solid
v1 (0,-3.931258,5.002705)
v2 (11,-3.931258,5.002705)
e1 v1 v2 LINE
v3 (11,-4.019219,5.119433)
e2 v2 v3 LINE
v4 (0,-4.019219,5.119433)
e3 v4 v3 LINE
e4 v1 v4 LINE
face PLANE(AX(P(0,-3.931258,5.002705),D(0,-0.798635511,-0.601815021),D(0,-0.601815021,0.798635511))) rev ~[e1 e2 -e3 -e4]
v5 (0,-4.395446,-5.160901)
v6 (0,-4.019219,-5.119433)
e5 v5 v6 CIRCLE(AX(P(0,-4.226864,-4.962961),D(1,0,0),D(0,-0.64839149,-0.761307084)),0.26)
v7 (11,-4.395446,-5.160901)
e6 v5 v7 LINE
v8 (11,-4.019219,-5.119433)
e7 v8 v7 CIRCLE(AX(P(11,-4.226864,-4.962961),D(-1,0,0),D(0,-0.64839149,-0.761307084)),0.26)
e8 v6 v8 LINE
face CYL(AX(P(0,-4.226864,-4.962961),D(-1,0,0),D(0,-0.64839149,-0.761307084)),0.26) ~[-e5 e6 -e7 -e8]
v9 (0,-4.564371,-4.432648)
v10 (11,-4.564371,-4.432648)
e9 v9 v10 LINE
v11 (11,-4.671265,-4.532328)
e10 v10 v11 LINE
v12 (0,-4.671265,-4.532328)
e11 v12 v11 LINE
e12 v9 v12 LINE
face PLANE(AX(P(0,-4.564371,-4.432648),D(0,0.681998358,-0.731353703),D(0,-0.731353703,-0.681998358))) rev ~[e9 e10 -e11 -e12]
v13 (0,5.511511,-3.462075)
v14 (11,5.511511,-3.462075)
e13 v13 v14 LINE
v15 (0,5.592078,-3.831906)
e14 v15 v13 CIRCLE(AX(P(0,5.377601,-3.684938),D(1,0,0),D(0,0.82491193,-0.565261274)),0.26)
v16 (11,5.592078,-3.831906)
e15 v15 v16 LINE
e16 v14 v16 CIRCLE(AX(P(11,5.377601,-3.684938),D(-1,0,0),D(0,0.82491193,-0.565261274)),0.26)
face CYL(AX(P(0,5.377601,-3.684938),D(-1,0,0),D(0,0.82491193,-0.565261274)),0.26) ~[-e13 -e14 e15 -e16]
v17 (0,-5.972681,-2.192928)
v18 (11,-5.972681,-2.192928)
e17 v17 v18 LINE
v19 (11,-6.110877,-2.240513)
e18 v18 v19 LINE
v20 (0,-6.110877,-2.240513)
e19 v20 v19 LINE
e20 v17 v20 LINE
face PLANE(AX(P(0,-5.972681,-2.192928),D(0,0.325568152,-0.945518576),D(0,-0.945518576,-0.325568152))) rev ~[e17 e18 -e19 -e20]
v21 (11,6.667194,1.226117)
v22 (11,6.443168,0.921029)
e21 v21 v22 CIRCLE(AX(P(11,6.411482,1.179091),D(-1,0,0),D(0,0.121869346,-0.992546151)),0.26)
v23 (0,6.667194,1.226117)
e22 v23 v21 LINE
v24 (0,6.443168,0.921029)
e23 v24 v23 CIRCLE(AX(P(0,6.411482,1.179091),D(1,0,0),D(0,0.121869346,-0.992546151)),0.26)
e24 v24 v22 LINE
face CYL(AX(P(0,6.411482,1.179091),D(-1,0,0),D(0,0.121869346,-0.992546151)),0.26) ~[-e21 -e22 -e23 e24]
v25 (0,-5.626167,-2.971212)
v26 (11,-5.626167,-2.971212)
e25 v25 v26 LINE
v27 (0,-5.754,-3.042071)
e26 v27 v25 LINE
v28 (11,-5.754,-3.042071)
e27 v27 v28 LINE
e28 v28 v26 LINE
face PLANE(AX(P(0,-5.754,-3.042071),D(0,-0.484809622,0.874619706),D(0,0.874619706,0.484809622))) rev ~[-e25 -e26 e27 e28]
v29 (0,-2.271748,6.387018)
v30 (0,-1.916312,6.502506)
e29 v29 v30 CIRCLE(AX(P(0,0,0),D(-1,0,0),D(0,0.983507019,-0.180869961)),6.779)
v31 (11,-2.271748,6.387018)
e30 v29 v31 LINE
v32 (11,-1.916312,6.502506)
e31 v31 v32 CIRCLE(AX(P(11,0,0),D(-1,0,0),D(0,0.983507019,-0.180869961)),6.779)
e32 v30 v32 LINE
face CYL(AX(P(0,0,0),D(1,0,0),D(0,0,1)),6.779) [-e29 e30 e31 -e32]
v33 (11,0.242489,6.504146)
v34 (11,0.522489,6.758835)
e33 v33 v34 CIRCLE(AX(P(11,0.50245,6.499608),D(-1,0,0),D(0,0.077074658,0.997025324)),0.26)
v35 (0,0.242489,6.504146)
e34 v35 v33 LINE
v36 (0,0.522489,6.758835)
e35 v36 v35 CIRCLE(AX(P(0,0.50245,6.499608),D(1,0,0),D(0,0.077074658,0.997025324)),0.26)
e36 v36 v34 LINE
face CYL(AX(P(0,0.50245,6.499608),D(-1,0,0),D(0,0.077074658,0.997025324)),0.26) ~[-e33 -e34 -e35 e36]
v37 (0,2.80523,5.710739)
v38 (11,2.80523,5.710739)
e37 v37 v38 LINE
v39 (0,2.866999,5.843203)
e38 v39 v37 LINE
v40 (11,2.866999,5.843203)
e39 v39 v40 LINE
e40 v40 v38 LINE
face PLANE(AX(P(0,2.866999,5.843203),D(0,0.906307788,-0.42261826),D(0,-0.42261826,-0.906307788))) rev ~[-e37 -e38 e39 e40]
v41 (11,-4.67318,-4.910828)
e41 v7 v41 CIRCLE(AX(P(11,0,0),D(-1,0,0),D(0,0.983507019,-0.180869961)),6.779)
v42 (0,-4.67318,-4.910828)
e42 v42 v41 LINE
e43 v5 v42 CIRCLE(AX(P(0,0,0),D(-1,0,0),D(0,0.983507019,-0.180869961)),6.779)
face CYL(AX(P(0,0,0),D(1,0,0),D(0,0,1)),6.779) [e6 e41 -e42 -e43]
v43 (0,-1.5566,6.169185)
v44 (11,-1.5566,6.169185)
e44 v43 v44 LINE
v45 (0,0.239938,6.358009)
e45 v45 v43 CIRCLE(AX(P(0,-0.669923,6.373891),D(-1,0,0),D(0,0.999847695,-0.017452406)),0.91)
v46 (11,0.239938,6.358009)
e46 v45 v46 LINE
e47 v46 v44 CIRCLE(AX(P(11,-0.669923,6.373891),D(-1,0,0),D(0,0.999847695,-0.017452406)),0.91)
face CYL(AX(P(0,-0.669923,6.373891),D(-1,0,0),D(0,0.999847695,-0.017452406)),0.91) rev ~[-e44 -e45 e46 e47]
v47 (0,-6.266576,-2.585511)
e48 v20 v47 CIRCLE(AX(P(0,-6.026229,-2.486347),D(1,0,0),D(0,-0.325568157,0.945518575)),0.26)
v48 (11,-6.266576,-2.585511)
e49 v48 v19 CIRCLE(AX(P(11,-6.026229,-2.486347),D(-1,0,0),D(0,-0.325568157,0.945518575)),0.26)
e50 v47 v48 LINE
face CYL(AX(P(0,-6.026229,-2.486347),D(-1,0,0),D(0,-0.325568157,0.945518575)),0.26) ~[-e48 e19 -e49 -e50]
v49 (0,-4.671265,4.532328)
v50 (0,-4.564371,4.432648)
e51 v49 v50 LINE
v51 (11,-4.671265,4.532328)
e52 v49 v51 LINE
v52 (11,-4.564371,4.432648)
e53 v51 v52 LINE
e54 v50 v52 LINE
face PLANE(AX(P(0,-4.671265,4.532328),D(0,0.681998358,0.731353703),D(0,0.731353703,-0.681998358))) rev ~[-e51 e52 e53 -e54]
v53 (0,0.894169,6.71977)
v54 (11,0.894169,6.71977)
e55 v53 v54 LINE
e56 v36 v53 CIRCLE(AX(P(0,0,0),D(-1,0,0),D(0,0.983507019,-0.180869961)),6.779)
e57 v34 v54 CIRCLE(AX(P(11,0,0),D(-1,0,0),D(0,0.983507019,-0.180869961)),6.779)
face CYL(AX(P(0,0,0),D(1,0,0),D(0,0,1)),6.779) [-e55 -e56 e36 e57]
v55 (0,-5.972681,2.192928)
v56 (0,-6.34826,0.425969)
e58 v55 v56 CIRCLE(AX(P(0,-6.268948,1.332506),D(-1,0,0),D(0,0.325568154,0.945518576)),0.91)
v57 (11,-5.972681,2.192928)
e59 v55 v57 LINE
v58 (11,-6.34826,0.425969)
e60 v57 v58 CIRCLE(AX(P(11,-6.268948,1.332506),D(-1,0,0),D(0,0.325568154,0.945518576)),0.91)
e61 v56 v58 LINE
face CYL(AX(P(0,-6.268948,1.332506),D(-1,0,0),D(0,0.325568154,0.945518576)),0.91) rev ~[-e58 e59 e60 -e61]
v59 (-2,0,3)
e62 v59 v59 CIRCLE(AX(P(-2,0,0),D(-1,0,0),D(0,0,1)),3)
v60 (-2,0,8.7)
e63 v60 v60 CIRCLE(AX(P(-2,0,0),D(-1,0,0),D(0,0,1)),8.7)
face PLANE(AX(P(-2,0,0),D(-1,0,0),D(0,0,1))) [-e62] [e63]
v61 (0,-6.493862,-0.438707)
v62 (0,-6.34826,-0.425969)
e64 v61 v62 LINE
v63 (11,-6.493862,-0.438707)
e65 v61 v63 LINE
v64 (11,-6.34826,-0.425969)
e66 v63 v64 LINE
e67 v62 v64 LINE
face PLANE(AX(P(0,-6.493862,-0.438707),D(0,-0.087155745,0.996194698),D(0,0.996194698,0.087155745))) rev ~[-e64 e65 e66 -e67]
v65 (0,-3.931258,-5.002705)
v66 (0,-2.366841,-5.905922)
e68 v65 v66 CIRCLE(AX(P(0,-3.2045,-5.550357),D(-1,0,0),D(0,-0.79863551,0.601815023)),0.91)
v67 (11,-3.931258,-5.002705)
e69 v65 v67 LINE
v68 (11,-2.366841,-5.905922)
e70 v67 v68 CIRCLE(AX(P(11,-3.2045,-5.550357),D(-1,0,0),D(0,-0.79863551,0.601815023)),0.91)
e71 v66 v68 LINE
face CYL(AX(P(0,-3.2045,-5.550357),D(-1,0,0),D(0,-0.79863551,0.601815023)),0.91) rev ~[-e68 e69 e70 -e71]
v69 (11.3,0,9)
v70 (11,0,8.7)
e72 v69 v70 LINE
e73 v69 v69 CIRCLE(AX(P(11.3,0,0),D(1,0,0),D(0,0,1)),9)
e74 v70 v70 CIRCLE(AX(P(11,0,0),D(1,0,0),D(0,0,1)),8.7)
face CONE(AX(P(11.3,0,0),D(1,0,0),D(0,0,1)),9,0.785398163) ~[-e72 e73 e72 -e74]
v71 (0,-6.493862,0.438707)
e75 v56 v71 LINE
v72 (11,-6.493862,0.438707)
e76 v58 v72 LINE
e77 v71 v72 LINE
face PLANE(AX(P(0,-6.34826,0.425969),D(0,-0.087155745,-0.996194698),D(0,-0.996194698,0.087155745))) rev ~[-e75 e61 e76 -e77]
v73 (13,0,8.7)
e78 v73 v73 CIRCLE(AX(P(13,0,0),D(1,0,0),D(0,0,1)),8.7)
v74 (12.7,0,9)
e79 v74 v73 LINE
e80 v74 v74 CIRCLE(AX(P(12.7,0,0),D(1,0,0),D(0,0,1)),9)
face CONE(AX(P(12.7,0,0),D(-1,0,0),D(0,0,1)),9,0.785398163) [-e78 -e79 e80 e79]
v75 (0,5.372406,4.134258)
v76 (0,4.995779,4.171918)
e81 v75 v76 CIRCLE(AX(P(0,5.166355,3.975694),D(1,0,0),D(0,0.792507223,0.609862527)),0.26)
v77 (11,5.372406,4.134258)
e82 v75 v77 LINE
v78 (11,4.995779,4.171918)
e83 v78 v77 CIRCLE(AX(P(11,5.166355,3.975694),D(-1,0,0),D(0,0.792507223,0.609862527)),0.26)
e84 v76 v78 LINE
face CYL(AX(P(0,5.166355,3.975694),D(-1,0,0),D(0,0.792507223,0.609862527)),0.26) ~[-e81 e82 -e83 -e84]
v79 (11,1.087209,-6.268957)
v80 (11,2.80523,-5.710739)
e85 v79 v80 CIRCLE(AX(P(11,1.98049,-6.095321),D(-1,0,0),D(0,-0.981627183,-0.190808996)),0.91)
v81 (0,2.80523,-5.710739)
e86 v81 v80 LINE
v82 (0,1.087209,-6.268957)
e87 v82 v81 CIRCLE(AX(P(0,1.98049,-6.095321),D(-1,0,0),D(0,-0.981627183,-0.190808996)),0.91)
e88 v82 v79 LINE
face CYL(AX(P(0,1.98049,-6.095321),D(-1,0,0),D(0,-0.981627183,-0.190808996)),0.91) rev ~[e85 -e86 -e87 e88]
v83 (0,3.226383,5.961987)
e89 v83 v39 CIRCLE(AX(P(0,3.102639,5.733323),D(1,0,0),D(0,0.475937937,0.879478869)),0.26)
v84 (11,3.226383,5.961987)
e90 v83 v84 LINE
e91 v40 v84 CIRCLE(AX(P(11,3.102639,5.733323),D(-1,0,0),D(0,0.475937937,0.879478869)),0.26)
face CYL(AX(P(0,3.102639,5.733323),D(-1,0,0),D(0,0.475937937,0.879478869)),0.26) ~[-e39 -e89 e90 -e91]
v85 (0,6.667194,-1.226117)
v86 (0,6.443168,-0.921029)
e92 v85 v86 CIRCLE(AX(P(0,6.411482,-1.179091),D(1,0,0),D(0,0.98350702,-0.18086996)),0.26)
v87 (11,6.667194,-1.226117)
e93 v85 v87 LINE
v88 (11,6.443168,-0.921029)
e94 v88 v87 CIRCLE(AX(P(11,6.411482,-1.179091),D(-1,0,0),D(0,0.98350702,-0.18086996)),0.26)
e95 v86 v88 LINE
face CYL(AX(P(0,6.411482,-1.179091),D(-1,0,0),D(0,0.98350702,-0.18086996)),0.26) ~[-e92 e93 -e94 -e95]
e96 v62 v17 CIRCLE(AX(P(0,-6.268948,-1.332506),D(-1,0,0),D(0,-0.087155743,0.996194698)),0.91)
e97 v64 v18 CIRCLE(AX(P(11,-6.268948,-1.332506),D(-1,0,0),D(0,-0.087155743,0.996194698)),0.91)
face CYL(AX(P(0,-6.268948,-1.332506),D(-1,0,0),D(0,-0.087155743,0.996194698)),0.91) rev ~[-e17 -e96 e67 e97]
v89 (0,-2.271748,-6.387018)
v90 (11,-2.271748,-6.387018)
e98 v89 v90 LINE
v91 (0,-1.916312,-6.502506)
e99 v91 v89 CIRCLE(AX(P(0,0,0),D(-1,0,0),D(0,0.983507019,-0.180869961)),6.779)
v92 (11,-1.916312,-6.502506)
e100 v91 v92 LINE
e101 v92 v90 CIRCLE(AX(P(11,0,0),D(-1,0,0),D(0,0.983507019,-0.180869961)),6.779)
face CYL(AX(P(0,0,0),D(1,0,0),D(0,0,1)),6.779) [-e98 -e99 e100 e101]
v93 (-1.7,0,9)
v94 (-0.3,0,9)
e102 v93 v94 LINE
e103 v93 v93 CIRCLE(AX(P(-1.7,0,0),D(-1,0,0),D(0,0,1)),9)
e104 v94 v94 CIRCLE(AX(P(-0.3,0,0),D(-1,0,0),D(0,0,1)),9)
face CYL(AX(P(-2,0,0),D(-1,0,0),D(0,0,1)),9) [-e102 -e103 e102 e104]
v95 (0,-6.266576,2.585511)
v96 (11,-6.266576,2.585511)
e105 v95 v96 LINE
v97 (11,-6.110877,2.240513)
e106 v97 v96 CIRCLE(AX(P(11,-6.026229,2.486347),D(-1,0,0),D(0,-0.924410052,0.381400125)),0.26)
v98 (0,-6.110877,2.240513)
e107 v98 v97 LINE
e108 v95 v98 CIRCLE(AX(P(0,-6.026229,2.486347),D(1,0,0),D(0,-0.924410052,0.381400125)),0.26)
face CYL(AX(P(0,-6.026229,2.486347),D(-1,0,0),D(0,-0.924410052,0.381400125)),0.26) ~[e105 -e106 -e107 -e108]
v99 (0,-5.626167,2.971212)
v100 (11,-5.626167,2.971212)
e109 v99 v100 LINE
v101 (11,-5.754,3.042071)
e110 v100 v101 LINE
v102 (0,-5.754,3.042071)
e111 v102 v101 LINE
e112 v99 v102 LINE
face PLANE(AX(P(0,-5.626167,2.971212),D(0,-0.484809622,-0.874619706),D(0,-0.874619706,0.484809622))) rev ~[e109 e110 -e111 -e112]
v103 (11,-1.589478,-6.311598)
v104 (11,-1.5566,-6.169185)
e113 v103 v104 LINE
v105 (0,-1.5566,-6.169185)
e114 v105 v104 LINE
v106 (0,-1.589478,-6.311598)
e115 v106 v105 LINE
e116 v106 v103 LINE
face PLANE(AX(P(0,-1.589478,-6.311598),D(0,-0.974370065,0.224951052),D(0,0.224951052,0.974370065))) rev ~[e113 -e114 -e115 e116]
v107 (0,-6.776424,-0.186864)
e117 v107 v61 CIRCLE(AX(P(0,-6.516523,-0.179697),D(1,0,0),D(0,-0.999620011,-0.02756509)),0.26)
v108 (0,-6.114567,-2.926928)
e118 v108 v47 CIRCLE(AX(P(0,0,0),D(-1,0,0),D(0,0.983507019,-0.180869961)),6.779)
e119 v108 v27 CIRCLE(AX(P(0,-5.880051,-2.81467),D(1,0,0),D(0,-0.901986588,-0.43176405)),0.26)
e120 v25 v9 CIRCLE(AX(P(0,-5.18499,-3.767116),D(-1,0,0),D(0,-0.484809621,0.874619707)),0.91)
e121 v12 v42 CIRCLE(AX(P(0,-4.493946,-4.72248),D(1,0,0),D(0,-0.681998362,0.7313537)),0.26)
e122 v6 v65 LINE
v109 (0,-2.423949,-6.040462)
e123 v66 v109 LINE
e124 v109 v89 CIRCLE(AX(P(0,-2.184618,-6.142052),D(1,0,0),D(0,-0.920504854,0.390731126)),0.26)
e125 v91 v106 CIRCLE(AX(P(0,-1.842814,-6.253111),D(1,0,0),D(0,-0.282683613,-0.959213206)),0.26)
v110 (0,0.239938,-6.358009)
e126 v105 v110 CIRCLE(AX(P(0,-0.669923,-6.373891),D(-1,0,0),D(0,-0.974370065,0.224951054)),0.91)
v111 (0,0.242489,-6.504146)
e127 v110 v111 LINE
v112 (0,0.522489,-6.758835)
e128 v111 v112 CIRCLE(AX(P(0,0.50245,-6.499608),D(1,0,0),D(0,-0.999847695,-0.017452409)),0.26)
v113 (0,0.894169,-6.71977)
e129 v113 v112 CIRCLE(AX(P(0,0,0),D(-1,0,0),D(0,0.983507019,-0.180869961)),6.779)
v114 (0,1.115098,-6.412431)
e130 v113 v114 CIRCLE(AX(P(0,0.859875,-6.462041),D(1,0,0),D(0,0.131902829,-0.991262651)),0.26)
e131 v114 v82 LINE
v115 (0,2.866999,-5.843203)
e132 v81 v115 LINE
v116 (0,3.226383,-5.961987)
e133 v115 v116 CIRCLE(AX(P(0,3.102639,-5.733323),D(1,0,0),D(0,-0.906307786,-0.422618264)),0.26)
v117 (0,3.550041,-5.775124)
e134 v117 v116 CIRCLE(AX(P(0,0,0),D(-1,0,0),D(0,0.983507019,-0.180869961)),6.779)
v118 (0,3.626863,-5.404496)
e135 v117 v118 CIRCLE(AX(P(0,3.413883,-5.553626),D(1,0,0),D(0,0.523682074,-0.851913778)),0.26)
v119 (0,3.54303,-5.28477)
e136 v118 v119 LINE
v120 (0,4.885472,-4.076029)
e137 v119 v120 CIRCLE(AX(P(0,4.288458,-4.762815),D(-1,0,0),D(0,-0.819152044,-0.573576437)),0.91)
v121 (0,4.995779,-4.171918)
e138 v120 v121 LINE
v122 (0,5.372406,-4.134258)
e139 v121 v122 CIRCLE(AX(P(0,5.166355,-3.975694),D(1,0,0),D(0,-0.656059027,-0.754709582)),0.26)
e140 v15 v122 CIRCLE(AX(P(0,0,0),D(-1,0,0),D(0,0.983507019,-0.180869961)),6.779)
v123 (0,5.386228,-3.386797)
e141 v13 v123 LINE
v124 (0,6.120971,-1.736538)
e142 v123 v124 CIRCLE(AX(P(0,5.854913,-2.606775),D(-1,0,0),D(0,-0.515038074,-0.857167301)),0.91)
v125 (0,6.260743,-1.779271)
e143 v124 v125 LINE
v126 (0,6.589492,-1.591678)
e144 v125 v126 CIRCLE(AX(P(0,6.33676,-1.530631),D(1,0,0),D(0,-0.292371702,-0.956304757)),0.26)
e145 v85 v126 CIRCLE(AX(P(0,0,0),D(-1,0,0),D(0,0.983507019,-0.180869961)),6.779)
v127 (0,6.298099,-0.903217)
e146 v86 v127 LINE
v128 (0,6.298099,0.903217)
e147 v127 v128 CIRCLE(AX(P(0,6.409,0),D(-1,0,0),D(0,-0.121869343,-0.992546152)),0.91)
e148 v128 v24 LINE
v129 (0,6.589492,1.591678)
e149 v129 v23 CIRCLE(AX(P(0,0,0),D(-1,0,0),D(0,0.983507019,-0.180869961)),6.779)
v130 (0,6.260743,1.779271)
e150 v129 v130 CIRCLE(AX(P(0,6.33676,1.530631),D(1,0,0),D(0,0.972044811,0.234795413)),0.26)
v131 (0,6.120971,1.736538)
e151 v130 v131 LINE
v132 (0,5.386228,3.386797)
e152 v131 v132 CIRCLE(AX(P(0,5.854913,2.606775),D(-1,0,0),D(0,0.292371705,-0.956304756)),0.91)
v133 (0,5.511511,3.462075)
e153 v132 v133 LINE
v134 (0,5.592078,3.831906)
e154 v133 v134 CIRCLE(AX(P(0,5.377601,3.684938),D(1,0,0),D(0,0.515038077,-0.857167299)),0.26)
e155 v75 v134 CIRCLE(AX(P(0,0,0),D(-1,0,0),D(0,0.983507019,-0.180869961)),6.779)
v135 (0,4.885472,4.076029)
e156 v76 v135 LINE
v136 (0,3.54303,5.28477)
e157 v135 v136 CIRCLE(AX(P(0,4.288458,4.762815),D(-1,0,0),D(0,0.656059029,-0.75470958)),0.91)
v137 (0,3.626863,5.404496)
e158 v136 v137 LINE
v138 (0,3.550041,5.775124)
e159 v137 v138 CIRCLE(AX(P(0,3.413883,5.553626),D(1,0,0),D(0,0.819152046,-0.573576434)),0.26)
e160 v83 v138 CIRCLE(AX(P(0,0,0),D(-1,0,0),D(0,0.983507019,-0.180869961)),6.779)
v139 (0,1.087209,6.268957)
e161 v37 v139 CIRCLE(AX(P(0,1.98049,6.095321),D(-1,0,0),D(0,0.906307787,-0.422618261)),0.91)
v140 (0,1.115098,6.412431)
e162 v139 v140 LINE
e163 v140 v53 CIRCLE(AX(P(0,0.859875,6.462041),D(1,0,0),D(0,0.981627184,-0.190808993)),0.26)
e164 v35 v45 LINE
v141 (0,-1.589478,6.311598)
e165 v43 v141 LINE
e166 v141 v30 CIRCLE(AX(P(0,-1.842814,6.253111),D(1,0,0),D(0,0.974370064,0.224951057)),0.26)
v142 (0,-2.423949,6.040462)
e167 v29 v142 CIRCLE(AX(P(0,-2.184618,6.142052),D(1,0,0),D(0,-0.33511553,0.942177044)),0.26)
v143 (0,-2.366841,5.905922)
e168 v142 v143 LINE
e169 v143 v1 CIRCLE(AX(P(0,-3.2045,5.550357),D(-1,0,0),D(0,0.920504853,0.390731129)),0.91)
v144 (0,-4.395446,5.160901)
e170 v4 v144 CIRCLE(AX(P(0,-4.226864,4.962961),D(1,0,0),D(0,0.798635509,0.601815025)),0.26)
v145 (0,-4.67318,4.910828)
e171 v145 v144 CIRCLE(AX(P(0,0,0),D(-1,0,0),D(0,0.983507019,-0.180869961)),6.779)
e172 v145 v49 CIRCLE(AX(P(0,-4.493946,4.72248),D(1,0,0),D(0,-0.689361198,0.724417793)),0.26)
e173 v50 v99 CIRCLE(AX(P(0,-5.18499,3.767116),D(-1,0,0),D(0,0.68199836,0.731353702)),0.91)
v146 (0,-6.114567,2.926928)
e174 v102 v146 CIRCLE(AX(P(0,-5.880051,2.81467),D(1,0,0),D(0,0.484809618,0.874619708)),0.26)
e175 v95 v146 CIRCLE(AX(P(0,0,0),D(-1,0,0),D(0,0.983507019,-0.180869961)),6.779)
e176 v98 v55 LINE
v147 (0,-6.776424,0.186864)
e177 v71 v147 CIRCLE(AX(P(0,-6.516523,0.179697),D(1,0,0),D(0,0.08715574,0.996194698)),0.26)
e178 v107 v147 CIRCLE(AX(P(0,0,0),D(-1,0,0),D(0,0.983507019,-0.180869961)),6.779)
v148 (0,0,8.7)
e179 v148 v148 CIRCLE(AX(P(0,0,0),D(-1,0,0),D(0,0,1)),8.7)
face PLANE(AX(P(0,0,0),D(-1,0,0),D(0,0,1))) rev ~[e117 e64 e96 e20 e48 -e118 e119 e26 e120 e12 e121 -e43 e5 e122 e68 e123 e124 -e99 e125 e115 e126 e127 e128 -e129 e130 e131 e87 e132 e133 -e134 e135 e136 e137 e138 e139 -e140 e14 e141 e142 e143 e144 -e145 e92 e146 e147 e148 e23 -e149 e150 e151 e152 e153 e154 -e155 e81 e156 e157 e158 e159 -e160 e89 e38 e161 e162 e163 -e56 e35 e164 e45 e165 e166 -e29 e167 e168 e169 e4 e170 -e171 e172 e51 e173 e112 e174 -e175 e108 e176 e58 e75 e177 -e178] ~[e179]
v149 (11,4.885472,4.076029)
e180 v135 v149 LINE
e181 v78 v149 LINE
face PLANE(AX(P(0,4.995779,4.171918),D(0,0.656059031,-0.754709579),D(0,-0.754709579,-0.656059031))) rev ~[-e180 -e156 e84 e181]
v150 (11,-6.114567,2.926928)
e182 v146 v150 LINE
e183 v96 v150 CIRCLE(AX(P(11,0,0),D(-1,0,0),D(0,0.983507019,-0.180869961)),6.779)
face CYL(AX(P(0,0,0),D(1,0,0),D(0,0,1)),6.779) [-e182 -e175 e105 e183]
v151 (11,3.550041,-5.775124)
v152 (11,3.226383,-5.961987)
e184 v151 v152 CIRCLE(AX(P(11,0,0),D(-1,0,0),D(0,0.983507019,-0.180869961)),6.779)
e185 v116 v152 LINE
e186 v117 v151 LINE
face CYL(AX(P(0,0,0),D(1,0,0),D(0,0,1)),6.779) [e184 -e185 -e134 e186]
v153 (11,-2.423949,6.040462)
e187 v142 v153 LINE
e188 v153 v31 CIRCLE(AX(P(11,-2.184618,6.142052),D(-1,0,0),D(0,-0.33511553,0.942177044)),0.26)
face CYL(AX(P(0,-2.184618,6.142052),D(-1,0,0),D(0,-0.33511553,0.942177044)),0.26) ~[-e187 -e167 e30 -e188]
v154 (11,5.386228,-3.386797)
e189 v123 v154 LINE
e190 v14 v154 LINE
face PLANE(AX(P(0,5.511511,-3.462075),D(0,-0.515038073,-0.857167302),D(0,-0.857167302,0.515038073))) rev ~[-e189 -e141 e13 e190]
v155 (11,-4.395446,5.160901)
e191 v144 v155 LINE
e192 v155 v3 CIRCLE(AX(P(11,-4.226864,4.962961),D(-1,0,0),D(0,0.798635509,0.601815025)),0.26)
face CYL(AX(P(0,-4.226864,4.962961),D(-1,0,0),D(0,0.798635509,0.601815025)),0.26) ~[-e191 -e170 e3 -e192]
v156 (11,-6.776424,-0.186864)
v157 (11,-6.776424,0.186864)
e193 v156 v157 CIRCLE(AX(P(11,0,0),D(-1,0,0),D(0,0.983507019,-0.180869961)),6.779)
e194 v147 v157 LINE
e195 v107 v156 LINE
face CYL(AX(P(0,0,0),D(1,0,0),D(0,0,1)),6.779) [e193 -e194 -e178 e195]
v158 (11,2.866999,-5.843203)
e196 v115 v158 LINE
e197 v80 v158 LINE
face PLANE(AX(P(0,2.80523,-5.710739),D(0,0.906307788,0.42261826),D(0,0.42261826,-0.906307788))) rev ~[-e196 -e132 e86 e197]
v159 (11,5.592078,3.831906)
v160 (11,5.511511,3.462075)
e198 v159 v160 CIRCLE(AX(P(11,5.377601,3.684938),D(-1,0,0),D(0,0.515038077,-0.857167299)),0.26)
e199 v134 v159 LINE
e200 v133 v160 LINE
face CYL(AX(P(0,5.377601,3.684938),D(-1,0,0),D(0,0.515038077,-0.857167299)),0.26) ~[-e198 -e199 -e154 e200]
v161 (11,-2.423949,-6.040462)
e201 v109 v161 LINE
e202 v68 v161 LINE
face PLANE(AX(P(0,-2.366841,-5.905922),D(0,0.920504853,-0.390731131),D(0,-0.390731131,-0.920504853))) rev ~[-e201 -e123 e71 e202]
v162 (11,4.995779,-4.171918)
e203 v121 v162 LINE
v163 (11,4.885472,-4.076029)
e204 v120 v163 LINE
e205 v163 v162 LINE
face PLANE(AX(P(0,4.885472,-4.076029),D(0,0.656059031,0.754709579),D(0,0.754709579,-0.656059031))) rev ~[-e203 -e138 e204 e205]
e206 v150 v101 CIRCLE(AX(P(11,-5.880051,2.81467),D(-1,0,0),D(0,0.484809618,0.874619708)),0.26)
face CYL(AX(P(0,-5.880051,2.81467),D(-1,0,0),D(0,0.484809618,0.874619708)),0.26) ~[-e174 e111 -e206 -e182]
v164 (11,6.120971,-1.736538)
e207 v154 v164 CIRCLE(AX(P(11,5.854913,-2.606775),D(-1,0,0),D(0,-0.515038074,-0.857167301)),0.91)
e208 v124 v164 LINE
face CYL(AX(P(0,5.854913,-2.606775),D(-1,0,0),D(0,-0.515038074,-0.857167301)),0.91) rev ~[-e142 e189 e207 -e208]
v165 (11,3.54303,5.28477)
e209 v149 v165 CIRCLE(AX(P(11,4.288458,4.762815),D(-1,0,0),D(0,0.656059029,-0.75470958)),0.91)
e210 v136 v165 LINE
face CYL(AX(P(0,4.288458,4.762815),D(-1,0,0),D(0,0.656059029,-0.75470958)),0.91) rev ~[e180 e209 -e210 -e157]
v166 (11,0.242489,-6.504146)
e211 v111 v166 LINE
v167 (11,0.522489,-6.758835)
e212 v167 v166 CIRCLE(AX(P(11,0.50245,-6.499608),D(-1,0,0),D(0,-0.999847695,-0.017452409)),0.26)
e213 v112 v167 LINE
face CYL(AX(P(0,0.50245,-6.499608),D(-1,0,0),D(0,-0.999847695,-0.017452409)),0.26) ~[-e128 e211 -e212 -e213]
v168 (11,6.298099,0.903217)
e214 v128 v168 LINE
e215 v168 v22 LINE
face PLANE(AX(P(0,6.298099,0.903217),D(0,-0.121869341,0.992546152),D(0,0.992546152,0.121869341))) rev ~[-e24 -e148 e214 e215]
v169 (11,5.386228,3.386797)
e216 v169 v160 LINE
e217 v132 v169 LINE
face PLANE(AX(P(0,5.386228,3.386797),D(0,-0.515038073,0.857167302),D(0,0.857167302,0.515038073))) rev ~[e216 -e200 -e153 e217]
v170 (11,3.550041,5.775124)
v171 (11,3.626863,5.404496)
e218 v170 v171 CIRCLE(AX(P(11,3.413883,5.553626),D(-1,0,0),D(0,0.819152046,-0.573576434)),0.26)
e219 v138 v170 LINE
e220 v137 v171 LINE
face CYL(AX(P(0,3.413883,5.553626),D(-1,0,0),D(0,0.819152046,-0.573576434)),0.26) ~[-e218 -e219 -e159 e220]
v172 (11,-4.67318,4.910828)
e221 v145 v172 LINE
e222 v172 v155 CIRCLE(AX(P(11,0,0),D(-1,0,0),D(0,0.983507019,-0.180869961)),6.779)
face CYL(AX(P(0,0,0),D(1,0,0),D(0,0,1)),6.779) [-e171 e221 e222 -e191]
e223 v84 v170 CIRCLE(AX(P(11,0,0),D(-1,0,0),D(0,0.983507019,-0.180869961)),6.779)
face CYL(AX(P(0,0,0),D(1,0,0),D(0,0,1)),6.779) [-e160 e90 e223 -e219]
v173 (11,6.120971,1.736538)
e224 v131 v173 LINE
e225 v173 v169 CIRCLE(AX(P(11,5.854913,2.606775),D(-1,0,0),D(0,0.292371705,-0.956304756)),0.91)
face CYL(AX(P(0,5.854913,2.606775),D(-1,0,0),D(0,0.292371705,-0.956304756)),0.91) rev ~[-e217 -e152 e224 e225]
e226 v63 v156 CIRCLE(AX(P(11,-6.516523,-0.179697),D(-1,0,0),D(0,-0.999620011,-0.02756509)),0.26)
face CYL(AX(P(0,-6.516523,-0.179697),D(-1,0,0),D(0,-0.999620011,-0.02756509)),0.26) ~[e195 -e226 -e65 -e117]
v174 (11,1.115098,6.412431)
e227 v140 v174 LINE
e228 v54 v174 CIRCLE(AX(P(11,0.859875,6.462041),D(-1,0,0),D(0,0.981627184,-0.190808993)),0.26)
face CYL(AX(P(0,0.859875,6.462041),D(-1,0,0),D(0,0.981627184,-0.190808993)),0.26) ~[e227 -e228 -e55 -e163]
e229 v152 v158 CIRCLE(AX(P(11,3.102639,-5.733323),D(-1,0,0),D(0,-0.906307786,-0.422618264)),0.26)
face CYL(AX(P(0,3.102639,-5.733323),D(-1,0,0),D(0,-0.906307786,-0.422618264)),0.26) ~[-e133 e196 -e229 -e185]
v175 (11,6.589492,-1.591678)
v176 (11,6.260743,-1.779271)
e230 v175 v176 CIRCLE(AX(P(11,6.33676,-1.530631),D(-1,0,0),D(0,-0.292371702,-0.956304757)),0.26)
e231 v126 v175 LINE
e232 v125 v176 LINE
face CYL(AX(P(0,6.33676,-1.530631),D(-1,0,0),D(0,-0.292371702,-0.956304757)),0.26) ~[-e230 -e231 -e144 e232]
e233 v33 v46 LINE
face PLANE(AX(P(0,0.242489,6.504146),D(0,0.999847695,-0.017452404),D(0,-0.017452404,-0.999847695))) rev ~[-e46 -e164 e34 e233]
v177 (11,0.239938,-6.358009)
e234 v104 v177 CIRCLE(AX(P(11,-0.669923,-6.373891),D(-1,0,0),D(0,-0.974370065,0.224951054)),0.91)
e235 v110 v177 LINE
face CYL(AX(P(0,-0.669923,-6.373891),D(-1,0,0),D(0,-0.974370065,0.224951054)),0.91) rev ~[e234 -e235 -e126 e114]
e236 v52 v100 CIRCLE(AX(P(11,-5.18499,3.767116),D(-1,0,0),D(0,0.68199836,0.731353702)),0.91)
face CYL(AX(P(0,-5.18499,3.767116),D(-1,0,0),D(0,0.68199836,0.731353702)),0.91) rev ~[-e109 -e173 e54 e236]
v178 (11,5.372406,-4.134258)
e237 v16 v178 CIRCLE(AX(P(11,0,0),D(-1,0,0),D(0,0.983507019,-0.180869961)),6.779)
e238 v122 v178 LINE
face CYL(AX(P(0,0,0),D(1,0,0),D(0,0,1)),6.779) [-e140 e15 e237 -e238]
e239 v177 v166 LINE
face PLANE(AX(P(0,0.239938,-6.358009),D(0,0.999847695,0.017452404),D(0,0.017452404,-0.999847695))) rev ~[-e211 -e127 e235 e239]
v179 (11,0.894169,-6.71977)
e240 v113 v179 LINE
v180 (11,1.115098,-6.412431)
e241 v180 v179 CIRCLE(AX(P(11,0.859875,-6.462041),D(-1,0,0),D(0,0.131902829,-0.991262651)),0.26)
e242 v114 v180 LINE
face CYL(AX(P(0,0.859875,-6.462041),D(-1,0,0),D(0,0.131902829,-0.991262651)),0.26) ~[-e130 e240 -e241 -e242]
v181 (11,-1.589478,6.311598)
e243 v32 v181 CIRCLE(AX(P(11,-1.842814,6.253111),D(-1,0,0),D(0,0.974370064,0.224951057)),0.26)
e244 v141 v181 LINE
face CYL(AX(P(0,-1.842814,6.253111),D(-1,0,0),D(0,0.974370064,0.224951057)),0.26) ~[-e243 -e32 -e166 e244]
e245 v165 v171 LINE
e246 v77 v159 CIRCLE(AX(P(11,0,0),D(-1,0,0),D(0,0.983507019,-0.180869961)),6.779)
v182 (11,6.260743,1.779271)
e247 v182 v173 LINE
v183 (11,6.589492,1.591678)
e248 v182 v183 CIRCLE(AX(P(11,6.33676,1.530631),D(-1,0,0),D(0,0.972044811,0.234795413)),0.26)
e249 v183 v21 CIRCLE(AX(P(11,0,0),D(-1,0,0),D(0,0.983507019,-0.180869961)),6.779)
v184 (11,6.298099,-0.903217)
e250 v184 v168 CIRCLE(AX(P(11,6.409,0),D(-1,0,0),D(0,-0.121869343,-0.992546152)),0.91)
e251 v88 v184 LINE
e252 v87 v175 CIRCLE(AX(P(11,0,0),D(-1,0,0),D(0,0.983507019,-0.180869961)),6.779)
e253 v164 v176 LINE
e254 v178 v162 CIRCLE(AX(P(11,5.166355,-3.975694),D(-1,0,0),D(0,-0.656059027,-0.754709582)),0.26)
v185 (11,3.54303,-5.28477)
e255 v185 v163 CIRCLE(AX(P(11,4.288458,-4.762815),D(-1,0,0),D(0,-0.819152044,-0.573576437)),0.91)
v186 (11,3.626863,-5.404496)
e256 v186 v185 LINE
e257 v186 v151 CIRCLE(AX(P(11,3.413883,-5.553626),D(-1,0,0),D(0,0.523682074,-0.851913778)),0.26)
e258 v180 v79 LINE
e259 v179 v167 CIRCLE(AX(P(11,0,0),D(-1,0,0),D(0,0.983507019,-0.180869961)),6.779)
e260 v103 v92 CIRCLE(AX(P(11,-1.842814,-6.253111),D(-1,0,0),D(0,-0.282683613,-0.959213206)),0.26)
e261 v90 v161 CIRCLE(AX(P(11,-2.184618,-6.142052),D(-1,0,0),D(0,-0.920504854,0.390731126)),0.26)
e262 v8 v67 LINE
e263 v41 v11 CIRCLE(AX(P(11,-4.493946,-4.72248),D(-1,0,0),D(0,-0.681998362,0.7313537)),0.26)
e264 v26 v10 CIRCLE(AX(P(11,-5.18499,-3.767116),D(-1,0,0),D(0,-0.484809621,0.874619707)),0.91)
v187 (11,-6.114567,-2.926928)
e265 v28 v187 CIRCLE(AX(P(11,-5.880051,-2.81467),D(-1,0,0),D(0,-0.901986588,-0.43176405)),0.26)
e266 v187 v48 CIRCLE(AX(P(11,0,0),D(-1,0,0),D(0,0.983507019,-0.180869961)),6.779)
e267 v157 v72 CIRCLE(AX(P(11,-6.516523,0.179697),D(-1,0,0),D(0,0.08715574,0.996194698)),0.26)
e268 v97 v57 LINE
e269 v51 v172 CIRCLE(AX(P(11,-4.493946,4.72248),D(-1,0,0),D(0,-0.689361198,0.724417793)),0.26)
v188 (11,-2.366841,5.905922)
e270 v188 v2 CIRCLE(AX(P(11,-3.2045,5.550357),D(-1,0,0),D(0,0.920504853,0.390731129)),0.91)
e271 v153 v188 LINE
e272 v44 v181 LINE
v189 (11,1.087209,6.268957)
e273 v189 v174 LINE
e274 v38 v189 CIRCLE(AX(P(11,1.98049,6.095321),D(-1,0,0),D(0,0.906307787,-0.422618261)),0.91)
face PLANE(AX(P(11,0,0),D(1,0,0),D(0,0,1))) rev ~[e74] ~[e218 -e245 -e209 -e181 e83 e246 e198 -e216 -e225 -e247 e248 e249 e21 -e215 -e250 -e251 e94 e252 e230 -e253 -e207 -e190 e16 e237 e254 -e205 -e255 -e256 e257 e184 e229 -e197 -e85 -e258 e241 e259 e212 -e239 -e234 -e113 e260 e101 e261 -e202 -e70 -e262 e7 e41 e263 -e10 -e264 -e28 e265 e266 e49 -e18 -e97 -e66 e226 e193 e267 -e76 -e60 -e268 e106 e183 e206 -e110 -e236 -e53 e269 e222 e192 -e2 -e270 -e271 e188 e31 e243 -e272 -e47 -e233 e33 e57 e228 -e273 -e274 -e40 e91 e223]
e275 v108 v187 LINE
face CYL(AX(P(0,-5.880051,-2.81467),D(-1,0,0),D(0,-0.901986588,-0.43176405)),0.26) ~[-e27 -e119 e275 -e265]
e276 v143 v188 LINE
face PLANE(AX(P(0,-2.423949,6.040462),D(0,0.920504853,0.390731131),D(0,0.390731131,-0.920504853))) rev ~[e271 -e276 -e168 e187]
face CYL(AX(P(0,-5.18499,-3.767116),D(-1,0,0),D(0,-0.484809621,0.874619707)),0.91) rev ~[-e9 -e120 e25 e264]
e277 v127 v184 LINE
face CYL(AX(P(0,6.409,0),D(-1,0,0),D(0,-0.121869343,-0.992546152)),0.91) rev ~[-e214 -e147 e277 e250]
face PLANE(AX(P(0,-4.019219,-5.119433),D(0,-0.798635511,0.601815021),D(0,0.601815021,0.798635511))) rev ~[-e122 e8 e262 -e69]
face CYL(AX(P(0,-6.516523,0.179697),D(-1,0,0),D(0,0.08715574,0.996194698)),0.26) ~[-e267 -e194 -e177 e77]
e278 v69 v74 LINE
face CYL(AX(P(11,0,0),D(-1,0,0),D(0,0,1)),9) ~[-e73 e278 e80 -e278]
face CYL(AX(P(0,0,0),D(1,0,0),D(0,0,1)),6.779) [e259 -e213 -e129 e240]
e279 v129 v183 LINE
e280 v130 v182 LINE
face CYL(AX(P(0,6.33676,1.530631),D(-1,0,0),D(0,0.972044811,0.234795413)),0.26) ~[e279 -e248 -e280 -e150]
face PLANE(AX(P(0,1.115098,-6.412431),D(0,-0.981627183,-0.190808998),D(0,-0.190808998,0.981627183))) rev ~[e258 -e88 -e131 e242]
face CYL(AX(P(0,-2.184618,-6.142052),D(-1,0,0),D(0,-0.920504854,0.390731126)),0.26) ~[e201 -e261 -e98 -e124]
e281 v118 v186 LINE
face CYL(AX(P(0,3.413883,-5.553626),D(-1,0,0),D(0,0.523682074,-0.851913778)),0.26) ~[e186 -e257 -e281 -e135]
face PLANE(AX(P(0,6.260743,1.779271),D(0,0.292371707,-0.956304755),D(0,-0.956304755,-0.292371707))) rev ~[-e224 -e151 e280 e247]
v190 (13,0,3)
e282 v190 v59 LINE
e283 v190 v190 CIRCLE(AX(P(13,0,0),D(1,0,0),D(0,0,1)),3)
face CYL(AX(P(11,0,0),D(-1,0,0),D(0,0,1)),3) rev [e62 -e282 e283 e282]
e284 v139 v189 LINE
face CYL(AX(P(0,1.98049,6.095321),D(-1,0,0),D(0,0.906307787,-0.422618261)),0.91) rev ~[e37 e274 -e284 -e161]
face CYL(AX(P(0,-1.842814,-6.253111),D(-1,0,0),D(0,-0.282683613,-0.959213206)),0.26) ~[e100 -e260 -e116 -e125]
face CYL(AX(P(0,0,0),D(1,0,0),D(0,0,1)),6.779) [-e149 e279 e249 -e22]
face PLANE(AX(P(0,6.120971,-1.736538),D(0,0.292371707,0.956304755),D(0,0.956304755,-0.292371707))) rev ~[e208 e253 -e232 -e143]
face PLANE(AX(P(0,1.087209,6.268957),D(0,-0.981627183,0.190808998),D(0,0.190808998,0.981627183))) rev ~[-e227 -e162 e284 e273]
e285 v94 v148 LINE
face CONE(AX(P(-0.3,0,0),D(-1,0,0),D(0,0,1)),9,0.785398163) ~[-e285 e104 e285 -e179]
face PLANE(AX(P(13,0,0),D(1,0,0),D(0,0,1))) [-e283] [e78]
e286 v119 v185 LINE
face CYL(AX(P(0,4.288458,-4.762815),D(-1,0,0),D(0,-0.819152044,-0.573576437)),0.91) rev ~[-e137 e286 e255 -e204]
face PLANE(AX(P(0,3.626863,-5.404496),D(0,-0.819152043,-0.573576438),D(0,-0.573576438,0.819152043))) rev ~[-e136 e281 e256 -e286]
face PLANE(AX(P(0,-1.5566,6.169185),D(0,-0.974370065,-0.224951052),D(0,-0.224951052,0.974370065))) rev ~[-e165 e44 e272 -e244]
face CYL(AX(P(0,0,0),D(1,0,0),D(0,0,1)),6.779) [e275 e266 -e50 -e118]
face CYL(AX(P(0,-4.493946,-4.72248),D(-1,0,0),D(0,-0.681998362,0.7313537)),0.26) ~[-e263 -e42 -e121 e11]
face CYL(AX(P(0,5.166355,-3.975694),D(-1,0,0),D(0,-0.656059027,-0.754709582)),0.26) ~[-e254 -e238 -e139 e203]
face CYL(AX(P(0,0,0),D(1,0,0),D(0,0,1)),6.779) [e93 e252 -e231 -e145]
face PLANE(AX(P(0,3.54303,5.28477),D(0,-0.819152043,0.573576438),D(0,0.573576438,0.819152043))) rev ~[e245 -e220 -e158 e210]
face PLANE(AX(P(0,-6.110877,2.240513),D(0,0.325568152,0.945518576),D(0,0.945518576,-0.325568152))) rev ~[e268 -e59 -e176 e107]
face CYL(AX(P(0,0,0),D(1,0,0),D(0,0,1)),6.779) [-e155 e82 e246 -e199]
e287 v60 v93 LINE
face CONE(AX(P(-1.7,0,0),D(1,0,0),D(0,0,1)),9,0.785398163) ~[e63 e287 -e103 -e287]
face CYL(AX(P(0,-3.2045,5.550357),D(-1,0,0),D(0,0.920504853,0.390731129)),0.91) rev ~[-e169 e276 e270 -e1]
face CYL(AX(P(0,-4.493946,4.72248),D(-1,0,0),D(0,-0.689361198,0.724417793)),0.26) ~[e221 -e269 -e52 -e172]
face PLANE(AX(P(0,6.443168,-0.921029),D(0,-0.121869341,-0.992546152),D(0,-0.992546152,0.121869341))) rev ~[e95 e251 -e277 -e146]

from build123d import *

# Parameters (mm, degrees)
CHAMFER_1_SIZE           = 1
SKETCH_4_W               = 2
SKETCH_4_H               = 1.440270842
CUT_EXTRUDE_1_DEPTH      = 23.179036994
CUT_EXTRUDE_2_REACH      = 24.179
PATTERN_CIRCULAR_3_COUNT = 15
SKETCH_7_R               = 3
CUT_EXTRUDE_3_DEPTH      = 23.173117564
EXTRUDE_START            = 2
SKETCH_9_R               = 9
SKETCH_9_R_2             = 3
EXTRUDE_1_DEPTH          = 2
SKETCH_10_R              = 9
SKETCH_10_R_2            = 3
EXTRUDE_2_DEPTH          = 2
CHAMFER_2_SIZE           = 0.3


with BuildPart() as part:
    # 草图1 → 旋转1 (revolve)
    with BuildSketch(Plane.XY, mode=Mode.PRIVATE) as revolve_1_sk:
        Polygon((0, 1.3558), (0, 6.779), (11, 6.779), (11, 2.7116), (20, 2.7116), (20, 1.3558), align=None)
    revolve(revolve_1_sk.sketch.rotate(Axis((0, 0, 0), (1, 0, 0)), 90), axis=Axis((0, 0, 0), (1, 0, 0)))

    # 倒角1
    chamfer_1_edges = [part.edges().sort_by_distance(p)[0] for p in [
        (20, 0, -1.3558),
        (0, 0, -1.3558),
    ]]
    chamfer(chamfer_1_edges, length=CHAMFER_1_SIZE)

    # 草图4 → 切除-拉伸1 (cut, through all)
    with BuildSketch(Plane.ZY):
        with Locations((0, 1.635664579)):
            Rectangle(SKETCH_4_W, SKETCH_4_H)
    extrude(amount=-CUT_EXTRUDE_1_DEPTH, mode=Mode.SUBTRACT)

    # 草图6 → 切除-拉伸2 (cut, up to next)
    with BuildSketch(Plane(origin=(0, 0, 0), x_dir=(0, 0, -1), z_dir=(1, 0, 0)), mode=Mode.PRIVATE) as cut_extrude_2_sk1:
        with BuildLine():
            Line((0.921029279, 6.443168288), (0.903216998, 6.298098898))
            ThreePointArc((0.903216998, 6.298098898), (0, 5.499), (-0.903216998, 6.298098898))
            Line((-0.903216998, 6.298098898), (-0.921029279, 6.443168288))
            ThreePointArc((-0.921029279, 6.443168288), (-1.025205225, 6.62105106), (-1.226117469, 6.667194084))
            ThreePointArc((-1.226117469, 6.667194084), (-1.353747907, 6.642454938), (-1.480880455, 6.615272789))
            Line((-1.480880455, 6.615272789), (-1.677528444, 8.216842132))
            ThreePointArc((-1.677528444, 8.216842132), (0, 8.386333901), (1.677528444, 8.216842132))
            Line((1.677528444, 8.216842132), (1.480880455, 6.615272789))
            ThreePointArc((1.480880455, 6.615272789), (1.353747907, 6.642454938), (1.226117469, 6.667194084))
            ThreePointArc((1.226117469, 6.667194084), (1.025205225, 6.62105106), (0.921029279, 6.443168288))
        make_face()
    cut_extrude_2_tool1 = extrude(cut_extrude_2_sk1.sketch, amount=CUT_EXTRUDE_2_REACH, mode=Mode.PRIVATE) & part.part
    cut_extrude_2 = cut_extrude_2_tool1.solids().sort_by_distance((0, 7.172733, 0))[0]
    add(cut_extrude_2, mode=Mode.SUBTRACT)

    # 阵列(圆周)3: 切除-拉伸2 ×15 about axis
    pattern_circular_3_axis = Axis((0, 0, 0), (1, 0, 0))
    for i in range(1, PATTERN_CIRCULAR_3_COUNT):
        add(cut_extrude_2.rotate(pattern_circular_3_axis, i * 360 / PATTERN_CIRCULAR_3_COUNT), mode=Mode.SUBTRACT)

    # 草图7 → 切除-拉伸3 (cut, through all)
    with BuildSketch(Plane.ZY):
        Circle(SKETCH_7_R)
    extrude(amount=-CUT_EXTRUDE_3_DEPTH, mode=Mode.SUBTRACT)

    # 草图9 → 凸台-拉伸1 (add)
    with BuildSketch(Plane.ZY.offset(EXTRUDE_START)):
        Circle(SKETCH_9_R)
        Circle(SKETCH_9_R_2, mode=Mode.SUBTRACT)
    extrude(amount=-EXTRUDE_1_DEPTH)

    # 草图10 → 凸台-拉伸2 (add)
    with BuildSketch(Plane(origin=(11, 0, 0), x_dir=(0, 0, -1), z_dir=(1, 0, 0))):
        with Locations(Location((0, 0, 0), (0, 0, 180))):
            Circle(SKETCH_10_R)
        with Locations(Location((0, 0, 0), (0, 0, 180))):
            Circle(SKETCH_10_R_2, mode=Mode.SUBTRACT)
    extrude(amount=EXTRUDE_2_DEPTH)

    # 倒角2
    chamfer_2_edges = [part.edges().sort_by_distance(p)[0] for p in [
        (-2, 0, -9),
        (0, 0, -9),
        (13, 0, -9),
        (11, 0, -9),
    ]]
    chamfer(chamfer_2_edges, length=CHAMFER_2_SIZE)


solid = part.part
